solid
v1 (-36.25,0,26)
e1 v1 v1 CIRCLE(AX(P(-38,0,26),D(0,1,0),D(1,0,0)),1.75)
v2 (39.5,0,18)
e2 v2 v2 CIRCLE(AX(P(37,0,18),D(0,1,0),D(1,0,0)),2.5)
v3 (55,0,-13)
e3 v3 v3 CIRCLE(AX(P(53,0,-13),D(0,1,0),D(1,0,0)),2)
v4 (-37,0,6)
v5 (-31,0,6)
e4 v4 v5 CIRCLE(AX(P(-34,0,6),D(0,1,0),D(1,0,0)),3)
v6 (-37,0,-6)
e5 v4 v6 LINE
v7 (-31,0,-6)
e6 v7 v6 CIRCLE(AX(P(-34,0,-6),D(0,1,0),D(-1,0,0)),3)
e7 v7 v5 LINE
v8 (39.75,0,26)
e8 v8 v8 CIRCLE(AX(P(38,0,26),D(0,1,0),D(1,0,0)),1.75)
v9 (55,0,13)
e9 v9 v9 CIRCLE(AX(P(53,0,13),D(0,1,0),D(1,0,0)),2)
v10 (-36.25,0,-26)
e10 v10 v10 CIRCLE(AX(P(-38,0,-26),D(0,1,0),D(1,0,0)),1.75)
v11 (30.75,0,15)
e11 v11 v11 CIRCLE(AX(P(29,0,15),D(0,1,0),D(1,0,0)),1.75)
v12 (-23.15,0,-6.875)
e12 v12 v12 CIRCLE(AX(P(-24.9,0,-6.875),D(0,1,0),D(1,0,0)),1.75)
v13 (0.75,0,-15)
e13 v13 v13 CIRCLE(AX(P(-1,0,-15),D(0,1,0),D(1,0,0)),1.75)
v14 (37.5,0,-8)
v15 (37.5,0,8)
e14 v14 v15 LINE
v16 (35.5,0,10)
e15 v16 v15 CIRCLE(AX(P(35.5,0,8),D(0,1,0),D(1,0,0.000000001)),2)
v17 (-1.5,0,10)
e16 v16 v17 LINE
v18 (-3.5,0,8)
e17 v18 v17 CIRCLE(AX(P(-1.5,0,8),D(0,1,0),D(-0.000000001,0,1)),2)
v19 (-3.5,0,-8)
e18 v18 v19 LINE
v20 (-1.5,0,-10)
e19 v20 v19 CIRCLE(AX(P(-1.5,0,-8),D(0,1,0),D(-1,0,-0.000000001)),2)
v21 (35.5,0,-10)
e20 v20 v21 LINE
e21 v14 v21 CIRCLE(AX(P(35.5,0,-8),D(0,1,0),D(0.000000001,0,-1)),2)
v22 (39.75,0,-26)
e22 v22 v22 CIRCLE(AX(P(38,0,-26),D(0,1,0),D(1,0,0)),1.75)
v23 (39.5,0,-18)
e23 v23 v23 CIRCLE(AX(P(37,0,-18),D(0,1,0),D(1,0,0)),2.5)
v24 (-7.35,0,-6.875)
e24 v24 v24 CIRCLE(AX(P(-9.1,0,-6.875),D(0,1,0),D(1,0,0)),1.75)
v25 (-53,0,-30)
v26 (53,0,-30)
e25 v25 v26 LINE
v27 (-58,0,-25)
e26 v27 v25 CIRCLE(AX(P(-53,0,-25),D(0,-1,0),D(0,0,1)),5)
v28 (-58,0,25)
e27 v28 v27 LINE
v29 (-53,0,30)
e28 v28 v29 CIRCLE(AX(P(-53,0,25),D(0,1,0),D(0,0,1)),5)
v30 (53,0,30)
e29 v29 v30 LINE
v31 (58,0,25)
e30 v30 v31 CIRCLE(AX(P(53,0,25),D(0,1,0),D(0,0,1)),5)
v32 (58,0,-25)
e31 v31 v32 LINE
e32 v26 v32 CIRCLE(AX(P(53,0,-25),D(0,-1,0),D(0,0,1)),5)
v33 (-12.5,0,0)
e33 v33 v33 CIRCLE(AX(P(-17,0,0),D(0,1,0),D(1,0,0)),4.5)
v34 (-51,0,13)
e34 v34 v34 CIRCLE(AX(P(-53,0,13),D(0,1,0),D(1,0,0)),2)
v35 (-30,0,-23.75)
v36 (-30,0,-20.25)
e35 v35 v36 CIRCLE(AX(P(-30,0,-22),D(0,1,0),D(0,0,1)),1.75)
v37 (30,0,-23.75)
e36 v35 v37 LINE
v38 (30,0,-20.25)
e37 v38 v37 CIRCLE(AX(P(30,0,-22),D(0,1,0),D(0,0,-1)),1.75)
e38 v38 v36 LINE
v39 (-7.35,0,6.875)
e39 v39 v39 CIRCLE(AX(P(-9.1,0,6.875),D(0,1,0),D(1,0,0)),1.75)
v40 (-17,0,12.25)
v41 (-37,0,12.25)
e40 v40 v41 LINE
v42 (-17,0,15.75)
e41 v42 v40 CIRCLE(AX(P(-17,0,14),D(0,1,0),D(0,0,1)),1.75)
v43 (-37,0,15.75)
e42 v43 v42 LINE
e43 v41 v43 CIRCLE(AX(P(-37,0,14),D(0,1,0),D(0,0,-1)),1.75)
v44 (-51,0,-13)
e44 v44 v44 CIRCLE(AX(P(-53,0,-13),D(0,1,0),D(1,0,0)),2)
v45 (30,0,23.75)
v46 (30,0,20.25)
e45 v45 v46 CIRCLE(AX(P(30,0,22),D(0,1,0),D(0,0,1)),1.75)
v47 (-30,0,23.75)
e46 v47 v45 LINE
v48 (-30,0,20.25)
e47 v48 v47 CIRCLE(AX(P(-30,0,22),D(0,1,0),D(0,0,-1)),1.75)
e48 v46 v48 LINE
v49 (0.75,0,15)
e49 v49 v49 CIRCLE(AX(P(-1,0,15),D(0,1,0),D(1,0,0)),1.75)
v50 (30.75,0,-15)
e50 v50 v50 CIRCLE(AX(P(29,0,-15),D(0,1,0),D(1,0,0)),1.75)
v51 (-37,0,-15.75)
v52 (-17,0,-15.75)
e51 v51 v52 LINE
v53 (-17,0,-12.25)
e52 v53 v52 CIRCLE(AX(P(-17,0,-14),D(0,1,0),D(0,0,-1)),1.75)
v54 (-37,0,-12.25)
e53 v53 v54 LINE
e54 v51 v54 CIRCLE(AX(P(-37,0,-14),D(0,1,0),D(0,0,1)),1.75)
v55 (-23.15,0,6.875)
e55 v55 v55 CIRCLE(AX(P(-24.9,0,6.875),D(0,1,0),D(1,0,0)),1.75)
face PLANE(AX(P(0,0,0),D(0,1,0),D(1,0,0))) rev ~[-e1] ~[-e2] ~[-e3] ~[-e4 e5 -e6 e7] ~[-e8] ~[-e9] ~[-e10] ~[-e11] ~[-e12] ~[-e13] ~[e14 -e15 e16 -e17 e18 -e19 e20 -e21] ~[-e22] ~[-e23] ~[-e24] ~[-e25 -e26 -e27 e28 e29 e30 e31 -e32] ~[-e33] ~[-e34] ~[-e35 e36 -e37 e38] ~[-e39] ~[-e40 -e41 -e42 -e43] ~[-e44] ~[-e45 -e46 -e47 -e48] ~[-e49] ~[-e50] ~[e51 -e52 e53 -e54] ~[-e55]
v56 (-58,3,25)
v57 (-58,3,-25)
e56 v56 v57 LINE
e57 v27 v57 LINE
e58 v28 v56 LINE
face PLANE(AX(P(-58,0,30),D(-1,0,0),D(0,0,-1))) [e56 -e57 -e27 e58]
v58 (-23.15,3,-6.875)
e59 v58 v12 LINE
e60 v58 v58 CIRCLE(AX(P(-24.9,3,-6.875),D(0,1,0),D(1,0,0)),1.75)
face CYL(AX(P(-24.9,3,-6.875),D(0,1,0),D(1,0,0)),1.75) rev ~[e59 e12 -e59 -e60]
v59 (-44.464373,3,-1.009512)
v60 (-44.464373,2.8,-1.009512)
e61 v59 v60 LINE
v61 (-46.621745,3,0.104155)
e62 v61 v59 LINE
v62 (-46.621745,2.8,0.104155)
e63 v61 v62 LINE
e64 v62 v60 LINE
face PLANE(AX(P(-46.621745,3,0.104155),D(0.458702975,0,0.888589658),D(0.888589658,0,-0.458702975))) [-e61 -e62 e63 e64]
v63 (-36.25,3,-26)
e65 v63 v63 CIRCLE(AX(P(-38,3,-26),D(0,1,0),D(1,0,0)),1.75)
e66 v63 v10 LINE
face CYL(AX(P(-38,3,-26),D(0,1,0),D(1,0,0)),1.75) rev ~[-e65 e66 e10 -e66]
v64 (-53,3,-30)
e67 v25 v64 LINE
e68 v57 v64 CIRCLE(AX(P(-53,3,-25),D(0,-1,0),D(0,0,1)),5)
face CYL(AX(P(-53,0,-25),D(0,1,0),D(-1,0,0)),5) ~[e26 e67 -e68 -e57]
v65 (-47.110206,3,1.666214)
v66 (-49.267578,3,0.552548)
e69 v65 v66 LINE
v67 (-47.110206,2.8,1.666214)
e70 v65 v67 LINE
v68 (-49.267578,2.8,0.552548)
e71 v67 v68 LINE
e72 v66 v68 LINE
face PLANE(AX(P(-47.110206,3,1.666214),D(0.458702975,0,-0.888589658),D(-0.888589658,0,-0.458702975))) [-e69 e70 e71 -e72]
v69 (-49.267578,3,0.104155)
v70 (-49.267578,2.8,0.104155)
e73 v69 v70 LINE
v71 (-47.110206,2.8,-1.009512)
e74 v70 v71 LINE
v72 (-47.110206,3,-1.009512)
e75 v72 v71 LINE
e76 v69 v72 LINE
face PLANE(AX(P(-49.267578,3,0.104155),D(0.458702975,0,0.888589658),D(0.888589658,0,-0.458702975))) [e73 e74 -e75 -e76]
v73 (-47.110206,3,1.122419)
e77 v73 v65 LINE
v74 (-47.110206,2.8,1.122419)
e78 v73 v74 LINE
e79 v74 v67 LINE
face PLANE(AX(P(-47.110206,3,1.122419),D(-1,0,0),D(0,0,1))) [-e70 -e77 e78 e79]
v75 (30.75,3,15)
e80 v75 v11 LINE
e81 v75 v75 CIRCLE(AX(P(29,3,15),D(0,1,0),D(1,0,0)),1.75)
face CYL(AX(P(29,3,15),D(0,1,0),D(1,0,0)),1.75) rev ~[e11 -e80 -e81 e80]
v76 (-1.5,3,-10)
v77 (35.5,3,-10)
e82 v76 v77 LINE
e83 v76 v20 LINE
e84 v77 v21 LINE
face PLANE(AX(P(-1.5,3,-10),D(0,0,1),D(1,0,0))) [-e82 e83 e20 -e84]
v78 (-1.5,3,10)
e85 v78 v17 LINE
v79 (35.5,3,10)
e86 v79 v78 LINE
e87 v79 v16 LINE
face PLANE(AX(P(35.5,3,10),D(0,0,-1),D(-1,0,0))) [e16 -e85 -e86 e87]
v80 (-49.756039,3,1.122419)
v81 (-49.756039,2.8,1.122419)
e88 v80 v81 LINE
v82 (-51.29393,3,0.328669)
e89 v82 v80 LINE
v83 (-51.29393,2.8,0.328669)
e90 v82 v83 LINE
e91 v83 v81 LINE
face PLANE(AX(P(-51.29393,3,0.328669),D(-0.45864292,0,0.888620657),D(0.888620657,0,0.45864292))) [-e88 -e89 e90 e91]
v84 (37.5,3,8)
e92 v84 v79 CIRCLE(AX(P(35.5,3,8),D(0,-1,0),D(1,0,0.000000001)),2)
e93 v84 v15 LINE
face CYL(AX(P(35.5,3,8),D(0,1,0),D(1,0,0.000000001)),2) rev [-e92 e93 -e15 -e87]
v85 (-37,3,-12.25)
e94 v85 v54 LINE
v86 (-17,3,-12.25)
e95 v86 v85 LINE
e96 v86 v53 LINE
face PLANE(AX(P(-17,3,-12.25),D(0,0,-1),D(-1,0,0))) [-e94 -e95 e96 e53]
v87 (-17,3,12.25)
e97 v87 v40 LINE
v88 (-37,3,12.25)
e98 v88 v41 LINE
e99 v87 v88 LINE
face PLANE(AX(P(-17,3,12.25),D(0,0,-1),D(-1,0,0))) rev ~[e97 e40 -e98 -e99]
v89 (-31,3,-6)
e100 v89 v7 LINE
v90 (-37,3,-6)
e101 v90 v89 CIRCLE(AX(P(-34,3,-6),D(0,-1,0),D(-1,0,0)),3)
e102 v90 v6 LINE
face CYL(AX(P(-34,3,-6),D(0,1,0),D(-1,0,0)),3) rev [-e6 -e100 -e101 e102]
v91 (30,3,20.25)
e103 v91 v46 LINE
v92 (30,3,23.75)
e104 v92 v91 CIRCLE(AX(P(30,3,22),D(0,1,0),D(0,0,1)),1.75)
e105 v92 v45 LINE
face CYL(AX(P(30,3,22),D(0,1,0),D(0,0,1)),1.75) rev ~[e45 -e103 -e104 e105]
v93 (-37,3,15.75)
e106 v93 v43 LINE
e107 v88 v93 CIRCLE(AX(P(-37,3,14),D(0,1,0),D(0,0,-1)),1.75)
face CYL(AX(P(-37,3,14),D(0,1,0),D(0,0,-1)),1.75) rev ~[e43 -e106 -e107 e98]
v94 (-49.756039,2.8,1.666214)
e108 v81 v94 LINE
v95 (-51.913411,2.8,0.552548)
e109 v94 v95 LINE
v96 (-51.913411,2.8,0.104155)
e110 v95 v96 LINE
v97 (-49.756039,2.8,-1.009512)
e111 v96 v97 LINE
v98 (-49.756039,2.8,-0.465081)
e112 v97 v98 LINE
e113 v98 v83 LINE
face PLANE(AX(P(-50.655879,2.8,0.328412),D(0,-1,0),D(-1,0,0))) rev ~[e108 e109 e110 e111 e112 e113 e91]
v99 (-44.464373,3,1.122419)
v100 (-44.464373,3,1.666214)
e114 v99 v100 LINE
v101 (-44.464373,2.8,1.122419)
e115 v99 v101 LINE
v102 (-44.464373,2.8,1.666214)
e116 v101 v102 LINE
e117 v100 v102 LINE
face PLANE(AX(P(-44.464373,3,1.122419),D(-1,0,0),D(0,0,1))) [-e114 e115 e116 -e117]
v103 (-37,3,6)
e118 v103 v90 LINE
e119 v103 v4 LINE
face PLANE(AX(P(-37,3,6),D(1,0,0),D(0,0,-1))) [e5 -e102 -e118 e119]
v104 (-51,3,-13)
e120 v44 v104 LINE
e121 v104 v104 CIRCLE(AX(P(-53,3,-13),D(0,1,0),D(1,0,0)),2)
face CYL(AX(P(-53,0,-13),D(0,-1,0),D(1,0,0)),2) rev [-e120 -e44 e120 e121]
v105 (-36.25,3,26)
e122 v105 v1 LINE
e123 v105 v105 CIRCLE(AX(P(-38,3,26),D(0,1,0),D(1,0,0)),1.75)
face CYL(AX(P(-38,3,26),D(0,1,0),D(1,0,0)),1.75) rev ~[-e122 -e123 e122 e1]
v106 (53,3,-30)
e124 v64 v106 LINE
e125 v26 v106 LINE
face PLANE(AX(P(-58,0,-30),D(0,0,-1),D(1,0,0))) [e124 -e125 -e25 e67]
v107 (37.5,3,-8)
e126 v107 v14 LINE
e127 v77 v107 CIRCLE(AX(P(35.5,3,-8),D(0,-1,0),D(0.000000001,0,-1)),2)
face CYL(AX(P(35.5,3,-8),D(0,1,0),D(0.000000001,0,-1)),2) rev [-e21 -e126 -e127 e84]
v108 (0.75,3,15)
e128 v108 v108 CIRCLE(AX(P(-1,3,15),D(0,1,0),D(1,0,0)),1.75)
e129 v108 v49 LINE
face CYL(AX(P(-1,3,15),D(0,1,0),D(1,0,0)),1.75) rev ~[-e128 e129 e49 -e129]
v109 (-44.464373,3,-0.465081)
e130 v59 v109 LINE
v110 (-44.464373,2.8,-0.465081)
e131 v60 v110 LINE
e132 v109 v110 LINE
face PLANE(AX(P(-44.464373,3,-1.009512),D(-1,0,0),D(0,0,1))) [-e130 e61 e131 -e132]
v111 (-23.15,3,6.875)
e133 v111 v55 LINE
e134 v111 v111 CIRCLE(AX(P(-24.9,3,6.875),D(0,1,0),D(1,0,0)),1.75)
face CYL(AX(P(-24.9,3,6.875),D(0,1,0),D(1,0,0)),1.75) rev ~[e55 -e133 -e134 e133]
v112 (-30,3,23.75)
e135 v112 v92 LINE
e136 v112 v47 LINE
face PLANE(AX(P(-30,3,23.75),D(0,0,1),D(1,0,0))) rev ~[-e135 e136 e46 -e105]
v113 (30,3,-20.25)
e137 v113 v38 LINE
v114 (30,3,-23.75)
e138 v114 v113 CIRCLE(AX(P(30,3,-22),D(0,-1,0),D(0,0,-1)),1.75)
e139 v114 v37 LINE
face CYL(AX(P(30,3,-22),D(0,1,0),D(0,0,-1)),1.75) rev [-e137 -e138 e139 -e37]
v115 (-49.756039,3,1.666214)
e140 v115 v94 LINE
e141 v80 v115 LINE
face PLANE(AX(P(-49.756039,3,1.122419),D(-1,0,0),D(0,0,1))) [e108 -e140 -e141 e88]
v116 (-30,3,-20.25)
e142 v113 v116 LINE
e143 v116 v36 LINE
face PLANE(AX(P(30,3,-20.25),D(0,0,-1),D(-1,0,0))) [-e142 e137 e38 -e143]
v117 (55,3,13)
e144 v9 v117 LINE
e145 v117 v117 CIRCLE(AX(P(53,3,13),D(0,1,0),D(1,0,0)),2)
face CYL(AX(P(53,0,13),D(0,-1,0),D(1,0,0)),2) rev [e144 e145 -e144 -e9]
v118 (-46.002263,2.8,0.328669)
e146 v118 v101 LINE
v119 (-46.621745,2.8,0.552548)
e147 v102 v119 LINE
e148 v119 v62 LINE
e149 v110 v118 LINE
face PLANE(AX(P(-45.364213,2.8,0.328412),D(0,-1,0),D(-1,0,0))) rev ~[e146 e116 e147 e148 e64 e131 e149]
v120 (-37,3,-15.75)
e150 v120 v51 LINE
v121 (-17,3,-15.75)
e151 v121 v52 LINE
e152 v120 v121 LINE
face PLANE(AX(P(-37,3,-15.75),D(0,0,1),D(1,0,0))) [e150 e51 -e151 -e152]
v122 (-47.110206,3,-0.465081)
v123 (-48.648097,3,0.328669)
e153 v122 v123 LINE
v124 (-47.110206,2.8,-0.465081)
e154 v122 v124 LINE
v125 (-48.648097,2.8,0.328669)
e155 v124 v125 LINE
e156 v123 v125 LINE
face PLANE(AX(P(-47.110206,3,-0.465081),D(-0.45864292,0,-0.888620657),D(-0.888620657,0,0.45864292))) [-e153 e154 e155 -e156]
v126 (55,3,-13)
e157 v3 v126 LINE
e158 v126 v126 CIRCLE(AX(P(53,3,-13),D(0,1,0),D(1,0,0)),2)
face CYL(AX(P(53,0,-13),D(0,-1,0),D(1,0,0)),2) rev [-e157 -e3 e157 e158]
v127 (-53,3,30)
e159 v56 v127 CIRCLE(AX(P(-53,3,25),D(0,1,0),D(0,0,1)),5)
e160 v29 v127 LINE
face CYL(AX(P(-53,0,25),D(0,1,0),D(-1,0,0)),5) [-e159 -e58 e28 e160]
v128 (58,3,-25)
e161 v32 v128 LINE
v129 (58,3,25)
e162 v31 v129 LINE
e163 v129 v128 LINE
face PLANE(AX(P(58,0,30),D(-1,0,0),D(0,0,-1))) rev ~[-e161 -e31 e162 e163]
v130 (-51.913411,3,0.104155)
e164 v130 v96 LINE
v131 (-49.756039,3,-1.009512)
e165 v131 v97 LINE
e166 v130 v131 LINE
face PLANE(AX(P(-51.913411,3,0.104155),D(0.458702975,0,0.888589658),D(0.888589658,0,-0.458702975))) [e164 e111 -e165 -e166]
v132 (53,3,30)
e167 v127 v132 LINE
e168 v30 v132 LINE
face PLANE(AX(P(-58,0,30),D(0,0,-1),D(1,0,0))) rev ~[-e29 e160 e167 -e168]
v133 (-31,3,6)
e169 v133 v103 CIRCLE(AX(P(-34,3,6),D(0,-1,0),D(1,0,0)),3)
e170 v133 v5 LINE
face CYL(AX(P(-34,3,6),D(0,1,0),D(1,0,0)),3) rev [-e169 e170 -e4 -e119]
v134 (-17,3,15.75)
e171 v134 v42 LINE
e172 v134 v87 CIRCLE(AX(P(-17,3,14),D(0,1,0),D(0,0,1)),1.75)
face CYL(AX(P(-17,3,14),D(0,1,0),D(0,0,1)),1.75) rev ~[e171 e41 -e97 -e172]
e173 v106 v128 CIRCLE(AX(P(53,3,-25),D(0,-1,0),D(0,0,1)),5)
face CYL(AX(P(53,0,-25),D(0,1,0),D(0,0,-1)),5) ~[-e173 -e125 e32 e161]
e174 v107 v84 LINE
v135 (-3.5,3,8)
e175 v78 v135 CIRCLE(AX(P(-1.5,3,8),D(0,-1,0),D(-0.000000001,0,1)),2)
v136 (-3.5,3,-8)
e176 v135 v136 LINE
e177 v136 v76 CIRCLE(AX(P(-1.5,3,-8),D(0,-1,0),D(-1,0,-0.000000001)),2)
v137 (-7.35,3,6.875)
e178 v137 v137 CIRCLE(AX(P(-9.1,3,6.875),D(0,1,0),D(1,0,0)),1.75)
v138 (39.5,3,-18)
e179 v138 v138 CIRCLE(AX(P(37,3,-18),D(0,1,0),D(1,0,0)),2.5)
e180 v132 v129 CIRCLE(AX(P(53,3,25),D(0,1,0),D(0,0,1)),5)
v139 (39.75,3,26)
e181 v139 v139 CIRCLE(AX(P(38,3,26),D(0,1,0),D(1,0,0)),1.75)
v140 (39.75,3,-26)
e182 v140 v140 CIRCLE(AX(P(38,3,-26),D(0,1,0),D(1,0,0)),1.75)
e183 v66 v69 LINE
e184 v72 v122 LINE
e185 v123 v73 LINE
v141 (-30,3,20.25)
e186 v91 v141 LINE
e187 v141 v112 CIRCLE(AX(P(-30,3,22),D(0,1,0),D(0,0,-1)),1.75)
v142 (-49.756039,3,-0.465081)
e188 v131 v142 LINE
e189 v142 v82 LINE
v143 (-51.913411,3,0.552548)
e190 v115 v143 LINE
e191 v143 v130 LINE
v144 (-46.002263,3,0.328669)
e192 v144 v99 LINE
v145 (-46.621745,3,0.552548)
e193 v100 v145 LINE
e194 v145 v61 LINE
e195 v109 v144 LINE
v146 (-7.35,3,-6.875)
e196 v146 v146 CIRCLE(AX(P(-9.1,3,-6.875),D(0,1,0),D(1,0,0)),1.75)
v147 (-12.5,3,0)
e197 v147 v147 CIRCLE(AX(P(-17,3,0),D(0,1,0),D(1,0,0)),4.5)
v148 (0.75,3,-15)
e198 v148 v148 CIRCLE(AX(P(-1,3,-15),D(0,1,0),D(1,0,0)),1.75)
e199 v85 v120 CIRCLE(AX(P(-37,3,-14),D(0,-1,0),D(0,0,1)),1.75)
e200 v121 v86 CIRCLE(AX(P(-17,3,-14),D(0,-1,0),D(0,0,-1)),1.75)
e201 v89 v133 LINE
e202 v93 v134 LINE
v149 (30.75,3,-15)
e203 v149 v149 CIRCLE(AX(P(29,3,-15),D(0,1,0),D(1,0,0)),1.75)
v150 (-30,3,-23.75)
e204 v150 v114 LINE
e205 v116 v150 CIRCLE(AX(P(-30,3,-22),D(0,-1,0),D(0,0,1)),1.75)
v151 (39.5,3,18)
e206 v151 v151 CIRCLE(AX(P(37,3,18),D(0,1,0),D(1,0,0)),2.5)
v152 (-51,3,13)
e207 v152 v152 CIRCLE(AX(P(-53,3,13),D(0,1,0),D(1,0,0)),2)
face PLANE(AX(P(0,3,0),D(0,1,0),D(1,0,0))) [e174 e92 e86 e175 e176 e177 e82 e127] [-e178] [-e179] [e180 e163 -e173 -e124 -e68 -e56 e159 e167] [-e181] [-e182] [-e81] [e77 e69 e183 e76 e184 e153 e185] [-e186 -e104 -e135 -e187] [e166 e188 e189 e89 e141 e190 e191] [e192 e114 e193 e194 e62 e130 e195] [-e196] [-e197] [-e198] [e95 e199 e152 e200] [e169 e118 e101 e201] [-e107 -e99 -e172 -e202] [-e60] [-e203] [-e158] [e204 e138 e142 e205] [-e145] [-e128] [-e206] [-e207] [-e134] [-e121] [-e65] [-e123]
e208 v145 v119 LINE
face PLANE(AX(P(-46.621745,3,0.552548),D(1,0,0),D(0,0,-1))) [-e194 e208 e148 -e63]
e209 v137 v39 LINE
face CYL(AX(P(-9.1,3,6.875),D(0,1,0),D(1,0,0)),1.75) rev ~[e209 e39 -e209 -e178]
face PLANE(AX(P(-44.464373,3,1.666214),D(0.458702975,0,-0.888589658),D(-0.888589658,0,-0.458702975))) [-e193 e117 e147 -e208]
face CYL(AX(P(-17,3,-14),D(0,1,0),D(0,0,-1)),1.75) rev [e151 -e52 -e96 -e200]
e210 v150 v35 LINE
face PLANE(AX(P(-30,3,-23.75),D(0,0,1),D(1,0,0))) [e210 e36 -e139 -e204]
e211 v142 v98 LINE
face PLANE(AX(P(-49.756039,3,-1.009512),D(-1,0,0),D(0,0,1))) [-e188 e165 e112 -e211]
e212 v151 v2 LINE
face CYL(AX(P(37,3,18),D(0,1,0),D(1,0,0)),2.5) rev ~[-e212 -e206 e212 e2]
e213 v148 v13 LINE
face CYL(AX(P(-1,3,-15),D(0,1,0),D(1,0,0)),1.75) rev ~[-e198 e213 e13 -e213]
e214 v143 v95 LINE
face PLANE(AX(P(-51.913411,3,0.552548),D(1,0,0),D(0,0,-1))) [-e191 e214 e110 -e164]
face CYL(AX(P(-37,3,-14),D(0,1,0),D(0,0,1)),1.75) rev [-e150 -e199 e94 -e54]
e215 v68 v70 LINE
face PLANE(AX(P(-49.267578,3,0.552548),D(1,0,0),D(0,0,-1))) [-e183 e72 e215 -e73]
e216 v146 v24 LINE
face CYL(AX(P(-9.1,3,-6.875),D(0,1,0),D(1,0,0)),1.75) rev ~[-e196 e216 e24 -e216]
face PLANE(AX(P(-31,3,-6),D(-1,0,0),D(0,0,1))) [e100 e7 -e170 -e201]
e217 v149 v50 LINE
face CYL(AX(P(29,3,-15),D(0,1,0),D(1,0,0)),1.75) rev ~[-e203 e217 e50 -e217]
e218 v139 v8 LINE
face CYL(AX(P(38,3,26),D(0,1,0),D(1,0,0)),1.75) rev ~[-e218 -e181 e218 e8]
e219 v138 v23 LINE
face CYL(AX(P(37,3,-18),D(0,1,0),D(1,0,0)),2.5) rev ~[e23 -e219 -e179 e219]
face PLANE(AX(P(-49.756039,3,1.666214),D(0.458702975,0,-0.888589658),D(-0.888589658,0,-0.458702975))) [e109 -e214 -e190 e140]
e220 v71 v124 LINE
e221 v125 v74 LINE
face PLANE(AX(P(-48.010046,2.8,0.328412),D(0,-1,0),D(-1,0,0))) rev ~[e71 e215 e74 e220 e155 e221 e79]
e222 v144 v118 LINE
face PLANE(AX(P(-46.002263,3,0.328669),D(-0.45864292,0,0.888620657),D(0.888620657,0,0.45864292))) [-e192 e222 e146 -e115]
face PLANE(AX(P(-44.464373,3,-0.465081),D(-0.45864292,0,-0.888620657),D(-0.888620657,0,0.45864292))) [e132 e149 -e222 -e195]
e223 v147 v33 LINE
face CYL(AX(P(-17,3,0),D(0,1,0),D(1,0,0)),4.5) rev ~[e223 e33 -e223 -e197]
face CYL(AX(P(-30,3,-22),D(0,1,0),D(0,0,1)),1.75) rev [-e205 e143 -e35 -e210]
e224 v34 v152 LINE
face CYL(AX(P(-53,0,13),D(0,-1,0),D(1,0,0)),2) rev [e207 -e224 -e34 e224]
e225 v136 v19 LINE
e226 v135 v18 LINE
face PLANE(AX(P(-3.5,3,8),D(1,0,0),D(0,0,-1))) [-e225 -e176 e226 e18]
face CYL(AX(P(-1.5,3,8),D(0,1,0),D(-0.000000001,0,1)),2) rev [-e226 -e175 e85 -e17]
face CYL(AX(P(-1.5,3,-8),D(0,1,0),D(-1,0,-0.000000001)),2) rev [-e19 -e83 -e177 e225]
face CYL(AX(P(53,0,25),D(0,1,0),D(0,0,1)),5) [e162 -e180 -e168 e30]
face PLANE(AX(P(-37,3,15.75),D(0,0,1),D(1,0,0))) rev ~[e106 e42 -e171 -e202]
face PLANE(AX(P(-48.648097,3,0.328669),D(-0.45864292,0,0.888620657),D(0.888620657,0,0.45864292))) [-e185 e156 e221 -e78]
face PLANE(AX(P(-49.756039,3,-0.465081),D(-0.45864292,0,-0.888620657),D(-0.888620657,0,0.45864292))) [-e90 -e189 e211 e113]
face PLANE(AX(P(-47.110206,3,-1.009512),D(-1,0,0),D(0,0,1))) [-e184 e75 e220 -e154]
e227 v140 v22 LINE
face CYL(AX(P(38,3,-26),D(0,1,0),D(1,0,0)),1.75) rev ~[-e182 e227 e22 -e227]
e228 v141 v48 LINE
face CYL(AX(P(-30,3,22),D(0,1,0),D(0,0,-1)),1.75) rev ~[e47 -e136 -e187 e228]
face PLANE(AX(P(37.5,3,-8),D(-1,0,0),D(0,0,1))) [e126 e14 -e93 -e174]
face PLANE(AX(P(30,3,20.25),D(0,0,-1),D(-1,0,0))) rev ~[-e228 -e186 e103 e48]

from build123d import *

# Parameters (mm, degrees)
SKETCH1_W              = 116
SKETCH1_H              = 60
SKETCH1_R              = 2
BOSS_EXTRUDE1_DEPTH    = 3
SKETCH2_R              = 1.75
ODROID_HOLES_DEPTH     = 66.368187982
CUT_EXTRUDE2_DEPTH     = 0.2
SKETCH4_R              = 1.75
PIXHAWK_PM_DEPTH       = 66.368187982
SKETCH5_R              = 1.75
BUCKCONVERTER_5A_DEPTH = 66.368187982
SKETCH6_R              = 2.5
SKETCH6_R_2            = 4.5
CUT_EXTRUDE5_DEPTH     = 66.368187982
FILLET1_R              = 5


with BuildPart() as part:
    # Sketch1 → Boss-Extrude1 (new body)
    with BuildSketch(Plane(origin=(0, 0, 0), x_dir=(1, 0, 0), z_dir=(0, 1, 0))):
        Rectangle(SKETCH1_W, SKETCH1_H)
        with Locations((53, 13)):
            Circle(SKETCH1_R, mode=Mode.SUBTRACT)
        with Locations((53, -13)):
            Circle(SKETCH1_R, mode=Mode.SUBTRACT)
        with Locations((-53, -13)):
            Circle(SKETCH1_R, mode=Mode.SUBTRACT)
        with Locations((-53, 13)):
            Circle(SKETCH1_R, mode=Mode.SUBTRACT)
    extrude(amount=BOSS_EXTRUDE1_DEPTH)

    # Sketch2 → Odroid-holes (cut, through all)
    with BuildSketch(Plane(origin=(0, 3, 0), x_dir=(1, 0, 0), z_dir=(0, 1, 0))):
        with Locations((38, 26)):
            Circle(SKETCH2_R)
        with Locations((38, -26)):
            Circle(SKETCH2_R)
        with Locations((-38, -26)):
            Circle(SKETCH2_R)
        with Locations((-38, 26)):
            Circle(SKETCH2_R)
    extrude(amount=-ODROID_HOLES_DEPTH, mode=Mode.SUBTRACT)

    # Sketch3 → Cut-Extrude2 (cut)
    with BuildSketch(Plane(origin=(0, 3, 0), x_dir=(1, 0, 0), z_dir=(0, 1, 0))):
        Polygon((-49.756039442, -1.122419343), (-49.756039442, -1.666214416), (-51.913411237, -0.552547549), (-51.913411237, -0.104155121), (-49.756039442, 1.009511746), (-49.756039442, 0.465080657), (-51.293930067, -0.328669343), align=None)
        Polygon((-47.110206109, -1.122419343), (-47.110206109, -1.666214416), (-49.267577904, -0.552547549), (-49.267577904, -0.104155121), (-47.110206109, 1.009511746), (-47.110206109, 0.465080657), (-48.648096734, -0.328669343), align=None)
        Polygon((-44.464372776, -1.122419343), (-44.464372776, -1.666214416), (-46.621744571, -0.552547549), (-46.621744571, -0.104155121), (-44.464372776, 1.009511746), (-44.464372776, 0.465080657), (-46.002263401, -0.328669343), align=None)
    extrude(amount=-CUT_EXTRUDE2_DEPTH, mode=Mode.SUBTRACT)

    # Sketch4 → Pixhawk-PM (cut, through all)
    with BuildSketch(Plane(origin=(0, 3, 0), x_dir=(1, 0, 0), z_dir=(0, 1, 0))):
        with Locations((-1, 15)):
            Circle(SKETCH4_R)
        with Locations((29, 15)):
            Circle(SKETCH4_R)
        with Locations((29, -15)):
            Circle(SKETCH4_R)
        with Locations((-1, -15)):
            Circle(SKETCH4_R)
    extrude(amount=-PIXHAWK_PM_DEPTH, mode=Mode.SUBTRACT)

    # Sketch5 → BuckConverter-5A (cut, through all)
    with BuildSketch(Plane(origin=(0, 3, 0), x_dir=(1, 0, 0), z_dir=(0, 1, 0))):
        with Locations((-9.1, 6.875)):
            Circle(SKETCH5_R)
        with Locations((-24.9, 6.875)):
            Circle(SKETCH5_R)
        with Locations((-24.9, -6.875)):
            Circle(SKETCH5_R)
        with Locations((-9.1, -6.875)):
            Circle(SKETCH5_R)
    extrude(amount=-BUCKCONVERTER_5A_DEPTH, mode=Mode.SUBTRACT)

    # Sketch6 → Cut-Extrude5 (cut, through all)
    with BuildSketch(Plane(origin=(0, 3, 0), x_dir=(1, 0, 0), z_dir=(0, 1, 0))):
        with BuildLine():
            Line((30, 23.75), (-30, 23.75))
            ThreePointArc((-30, 23.75), (-31.75, 22), (-30, 20.25))
            Line((-30, 20.25), (30, 20.25))
            ThreePointArc((30, 20.25), (31.75, 22), (30, 23.75))
        make_face()
        with BuildLine():
            ThreePointArc((-30, -20.25), (-31.75, -22), (-30, -23.75))
            Line((-30, -23.75), (30, -23.75))
            ThreePointArc((30, -23.75), (31.75, -22), (30, -20.25))
            Line((30, -20.25), (-30, -20.25))
        make_face()
        with BuildLine():
            Line((-17, 15.75), (-37, 15.75))
            ThreePointArc((-37, 15.75), (-38.75, 14), (-37, 12.25))
            Line((-37, 12.25), (-17, 12.25))
            ThreePointArc((-17, 12.25), (-15.25, 14), (-17, 15.75))
        make_face()
        with BuildLine():
            ThreePointArc((-37, -12.25), (-38.75, -14), (-37, -15.75))
            Line((-37, -15.75), (-17, -15.75))
            ThreePointArc((-17, -15.75), (-15.25, -14), (-17, -12.25))
            Line((-17, -12.25), (-37, -12.25))
        make_face()
        with BuildLine():
            Line((35.5, 10), (-1.5, 10))
            ThreePointArc((-1.5, 10), (-2.914213562, 9.414213562), (-3.5, 8))
            Line((-3.5, 8), (-3.5, -8))
            ThreePointArc((-3.5, -8), (-2.914213562, -9.414213562), (-1.5, -10))
            Line((-1.5, -10), (35.5, -10))
            ThreePointArc((35.5, -10), (36.914213562, -9.414213562), (37.5, -8))
            Line((37.5, -8), (37.5, 8))
            ThreePointArc((37.5, 8), (36.914213562, 9.414213562), (35.5, 10))
        make_face()
        with BuildLine():
            Line((-31, -6), (-31, 6))
            ThreePointArc((-31, 6), (-34, 9), (-37, 6))
            Line((-37, 6), (-37, -6))
            ThreePointArc((-37, -6), (-34, -9), (-31, -6))
        make_face()
        with Locations((37, 18)):
            Circle(SKETCH6_R)
        with Locations((37, -18)):
            Circle(SKETCH6_R)
        with Locations((-17, 0)):
            Circle(SKETCH6_R_2)
    extrude(amount=-CUT_EXTRUDE5_DEPTH, mode=Mode.SUBTRACT)

    # Fillet1
    fillet1_edges = [part.edges().sort_by_distance(p)[0] for p in [
        (58, 1.5, -30),
        (58, 1.5, 30),
        (-58, 1.5, 30),
        (-58, 1.5, -30),
    ]]
    fillet(fillet1_edges, radius=FILLET1_R)


solid = part.part
